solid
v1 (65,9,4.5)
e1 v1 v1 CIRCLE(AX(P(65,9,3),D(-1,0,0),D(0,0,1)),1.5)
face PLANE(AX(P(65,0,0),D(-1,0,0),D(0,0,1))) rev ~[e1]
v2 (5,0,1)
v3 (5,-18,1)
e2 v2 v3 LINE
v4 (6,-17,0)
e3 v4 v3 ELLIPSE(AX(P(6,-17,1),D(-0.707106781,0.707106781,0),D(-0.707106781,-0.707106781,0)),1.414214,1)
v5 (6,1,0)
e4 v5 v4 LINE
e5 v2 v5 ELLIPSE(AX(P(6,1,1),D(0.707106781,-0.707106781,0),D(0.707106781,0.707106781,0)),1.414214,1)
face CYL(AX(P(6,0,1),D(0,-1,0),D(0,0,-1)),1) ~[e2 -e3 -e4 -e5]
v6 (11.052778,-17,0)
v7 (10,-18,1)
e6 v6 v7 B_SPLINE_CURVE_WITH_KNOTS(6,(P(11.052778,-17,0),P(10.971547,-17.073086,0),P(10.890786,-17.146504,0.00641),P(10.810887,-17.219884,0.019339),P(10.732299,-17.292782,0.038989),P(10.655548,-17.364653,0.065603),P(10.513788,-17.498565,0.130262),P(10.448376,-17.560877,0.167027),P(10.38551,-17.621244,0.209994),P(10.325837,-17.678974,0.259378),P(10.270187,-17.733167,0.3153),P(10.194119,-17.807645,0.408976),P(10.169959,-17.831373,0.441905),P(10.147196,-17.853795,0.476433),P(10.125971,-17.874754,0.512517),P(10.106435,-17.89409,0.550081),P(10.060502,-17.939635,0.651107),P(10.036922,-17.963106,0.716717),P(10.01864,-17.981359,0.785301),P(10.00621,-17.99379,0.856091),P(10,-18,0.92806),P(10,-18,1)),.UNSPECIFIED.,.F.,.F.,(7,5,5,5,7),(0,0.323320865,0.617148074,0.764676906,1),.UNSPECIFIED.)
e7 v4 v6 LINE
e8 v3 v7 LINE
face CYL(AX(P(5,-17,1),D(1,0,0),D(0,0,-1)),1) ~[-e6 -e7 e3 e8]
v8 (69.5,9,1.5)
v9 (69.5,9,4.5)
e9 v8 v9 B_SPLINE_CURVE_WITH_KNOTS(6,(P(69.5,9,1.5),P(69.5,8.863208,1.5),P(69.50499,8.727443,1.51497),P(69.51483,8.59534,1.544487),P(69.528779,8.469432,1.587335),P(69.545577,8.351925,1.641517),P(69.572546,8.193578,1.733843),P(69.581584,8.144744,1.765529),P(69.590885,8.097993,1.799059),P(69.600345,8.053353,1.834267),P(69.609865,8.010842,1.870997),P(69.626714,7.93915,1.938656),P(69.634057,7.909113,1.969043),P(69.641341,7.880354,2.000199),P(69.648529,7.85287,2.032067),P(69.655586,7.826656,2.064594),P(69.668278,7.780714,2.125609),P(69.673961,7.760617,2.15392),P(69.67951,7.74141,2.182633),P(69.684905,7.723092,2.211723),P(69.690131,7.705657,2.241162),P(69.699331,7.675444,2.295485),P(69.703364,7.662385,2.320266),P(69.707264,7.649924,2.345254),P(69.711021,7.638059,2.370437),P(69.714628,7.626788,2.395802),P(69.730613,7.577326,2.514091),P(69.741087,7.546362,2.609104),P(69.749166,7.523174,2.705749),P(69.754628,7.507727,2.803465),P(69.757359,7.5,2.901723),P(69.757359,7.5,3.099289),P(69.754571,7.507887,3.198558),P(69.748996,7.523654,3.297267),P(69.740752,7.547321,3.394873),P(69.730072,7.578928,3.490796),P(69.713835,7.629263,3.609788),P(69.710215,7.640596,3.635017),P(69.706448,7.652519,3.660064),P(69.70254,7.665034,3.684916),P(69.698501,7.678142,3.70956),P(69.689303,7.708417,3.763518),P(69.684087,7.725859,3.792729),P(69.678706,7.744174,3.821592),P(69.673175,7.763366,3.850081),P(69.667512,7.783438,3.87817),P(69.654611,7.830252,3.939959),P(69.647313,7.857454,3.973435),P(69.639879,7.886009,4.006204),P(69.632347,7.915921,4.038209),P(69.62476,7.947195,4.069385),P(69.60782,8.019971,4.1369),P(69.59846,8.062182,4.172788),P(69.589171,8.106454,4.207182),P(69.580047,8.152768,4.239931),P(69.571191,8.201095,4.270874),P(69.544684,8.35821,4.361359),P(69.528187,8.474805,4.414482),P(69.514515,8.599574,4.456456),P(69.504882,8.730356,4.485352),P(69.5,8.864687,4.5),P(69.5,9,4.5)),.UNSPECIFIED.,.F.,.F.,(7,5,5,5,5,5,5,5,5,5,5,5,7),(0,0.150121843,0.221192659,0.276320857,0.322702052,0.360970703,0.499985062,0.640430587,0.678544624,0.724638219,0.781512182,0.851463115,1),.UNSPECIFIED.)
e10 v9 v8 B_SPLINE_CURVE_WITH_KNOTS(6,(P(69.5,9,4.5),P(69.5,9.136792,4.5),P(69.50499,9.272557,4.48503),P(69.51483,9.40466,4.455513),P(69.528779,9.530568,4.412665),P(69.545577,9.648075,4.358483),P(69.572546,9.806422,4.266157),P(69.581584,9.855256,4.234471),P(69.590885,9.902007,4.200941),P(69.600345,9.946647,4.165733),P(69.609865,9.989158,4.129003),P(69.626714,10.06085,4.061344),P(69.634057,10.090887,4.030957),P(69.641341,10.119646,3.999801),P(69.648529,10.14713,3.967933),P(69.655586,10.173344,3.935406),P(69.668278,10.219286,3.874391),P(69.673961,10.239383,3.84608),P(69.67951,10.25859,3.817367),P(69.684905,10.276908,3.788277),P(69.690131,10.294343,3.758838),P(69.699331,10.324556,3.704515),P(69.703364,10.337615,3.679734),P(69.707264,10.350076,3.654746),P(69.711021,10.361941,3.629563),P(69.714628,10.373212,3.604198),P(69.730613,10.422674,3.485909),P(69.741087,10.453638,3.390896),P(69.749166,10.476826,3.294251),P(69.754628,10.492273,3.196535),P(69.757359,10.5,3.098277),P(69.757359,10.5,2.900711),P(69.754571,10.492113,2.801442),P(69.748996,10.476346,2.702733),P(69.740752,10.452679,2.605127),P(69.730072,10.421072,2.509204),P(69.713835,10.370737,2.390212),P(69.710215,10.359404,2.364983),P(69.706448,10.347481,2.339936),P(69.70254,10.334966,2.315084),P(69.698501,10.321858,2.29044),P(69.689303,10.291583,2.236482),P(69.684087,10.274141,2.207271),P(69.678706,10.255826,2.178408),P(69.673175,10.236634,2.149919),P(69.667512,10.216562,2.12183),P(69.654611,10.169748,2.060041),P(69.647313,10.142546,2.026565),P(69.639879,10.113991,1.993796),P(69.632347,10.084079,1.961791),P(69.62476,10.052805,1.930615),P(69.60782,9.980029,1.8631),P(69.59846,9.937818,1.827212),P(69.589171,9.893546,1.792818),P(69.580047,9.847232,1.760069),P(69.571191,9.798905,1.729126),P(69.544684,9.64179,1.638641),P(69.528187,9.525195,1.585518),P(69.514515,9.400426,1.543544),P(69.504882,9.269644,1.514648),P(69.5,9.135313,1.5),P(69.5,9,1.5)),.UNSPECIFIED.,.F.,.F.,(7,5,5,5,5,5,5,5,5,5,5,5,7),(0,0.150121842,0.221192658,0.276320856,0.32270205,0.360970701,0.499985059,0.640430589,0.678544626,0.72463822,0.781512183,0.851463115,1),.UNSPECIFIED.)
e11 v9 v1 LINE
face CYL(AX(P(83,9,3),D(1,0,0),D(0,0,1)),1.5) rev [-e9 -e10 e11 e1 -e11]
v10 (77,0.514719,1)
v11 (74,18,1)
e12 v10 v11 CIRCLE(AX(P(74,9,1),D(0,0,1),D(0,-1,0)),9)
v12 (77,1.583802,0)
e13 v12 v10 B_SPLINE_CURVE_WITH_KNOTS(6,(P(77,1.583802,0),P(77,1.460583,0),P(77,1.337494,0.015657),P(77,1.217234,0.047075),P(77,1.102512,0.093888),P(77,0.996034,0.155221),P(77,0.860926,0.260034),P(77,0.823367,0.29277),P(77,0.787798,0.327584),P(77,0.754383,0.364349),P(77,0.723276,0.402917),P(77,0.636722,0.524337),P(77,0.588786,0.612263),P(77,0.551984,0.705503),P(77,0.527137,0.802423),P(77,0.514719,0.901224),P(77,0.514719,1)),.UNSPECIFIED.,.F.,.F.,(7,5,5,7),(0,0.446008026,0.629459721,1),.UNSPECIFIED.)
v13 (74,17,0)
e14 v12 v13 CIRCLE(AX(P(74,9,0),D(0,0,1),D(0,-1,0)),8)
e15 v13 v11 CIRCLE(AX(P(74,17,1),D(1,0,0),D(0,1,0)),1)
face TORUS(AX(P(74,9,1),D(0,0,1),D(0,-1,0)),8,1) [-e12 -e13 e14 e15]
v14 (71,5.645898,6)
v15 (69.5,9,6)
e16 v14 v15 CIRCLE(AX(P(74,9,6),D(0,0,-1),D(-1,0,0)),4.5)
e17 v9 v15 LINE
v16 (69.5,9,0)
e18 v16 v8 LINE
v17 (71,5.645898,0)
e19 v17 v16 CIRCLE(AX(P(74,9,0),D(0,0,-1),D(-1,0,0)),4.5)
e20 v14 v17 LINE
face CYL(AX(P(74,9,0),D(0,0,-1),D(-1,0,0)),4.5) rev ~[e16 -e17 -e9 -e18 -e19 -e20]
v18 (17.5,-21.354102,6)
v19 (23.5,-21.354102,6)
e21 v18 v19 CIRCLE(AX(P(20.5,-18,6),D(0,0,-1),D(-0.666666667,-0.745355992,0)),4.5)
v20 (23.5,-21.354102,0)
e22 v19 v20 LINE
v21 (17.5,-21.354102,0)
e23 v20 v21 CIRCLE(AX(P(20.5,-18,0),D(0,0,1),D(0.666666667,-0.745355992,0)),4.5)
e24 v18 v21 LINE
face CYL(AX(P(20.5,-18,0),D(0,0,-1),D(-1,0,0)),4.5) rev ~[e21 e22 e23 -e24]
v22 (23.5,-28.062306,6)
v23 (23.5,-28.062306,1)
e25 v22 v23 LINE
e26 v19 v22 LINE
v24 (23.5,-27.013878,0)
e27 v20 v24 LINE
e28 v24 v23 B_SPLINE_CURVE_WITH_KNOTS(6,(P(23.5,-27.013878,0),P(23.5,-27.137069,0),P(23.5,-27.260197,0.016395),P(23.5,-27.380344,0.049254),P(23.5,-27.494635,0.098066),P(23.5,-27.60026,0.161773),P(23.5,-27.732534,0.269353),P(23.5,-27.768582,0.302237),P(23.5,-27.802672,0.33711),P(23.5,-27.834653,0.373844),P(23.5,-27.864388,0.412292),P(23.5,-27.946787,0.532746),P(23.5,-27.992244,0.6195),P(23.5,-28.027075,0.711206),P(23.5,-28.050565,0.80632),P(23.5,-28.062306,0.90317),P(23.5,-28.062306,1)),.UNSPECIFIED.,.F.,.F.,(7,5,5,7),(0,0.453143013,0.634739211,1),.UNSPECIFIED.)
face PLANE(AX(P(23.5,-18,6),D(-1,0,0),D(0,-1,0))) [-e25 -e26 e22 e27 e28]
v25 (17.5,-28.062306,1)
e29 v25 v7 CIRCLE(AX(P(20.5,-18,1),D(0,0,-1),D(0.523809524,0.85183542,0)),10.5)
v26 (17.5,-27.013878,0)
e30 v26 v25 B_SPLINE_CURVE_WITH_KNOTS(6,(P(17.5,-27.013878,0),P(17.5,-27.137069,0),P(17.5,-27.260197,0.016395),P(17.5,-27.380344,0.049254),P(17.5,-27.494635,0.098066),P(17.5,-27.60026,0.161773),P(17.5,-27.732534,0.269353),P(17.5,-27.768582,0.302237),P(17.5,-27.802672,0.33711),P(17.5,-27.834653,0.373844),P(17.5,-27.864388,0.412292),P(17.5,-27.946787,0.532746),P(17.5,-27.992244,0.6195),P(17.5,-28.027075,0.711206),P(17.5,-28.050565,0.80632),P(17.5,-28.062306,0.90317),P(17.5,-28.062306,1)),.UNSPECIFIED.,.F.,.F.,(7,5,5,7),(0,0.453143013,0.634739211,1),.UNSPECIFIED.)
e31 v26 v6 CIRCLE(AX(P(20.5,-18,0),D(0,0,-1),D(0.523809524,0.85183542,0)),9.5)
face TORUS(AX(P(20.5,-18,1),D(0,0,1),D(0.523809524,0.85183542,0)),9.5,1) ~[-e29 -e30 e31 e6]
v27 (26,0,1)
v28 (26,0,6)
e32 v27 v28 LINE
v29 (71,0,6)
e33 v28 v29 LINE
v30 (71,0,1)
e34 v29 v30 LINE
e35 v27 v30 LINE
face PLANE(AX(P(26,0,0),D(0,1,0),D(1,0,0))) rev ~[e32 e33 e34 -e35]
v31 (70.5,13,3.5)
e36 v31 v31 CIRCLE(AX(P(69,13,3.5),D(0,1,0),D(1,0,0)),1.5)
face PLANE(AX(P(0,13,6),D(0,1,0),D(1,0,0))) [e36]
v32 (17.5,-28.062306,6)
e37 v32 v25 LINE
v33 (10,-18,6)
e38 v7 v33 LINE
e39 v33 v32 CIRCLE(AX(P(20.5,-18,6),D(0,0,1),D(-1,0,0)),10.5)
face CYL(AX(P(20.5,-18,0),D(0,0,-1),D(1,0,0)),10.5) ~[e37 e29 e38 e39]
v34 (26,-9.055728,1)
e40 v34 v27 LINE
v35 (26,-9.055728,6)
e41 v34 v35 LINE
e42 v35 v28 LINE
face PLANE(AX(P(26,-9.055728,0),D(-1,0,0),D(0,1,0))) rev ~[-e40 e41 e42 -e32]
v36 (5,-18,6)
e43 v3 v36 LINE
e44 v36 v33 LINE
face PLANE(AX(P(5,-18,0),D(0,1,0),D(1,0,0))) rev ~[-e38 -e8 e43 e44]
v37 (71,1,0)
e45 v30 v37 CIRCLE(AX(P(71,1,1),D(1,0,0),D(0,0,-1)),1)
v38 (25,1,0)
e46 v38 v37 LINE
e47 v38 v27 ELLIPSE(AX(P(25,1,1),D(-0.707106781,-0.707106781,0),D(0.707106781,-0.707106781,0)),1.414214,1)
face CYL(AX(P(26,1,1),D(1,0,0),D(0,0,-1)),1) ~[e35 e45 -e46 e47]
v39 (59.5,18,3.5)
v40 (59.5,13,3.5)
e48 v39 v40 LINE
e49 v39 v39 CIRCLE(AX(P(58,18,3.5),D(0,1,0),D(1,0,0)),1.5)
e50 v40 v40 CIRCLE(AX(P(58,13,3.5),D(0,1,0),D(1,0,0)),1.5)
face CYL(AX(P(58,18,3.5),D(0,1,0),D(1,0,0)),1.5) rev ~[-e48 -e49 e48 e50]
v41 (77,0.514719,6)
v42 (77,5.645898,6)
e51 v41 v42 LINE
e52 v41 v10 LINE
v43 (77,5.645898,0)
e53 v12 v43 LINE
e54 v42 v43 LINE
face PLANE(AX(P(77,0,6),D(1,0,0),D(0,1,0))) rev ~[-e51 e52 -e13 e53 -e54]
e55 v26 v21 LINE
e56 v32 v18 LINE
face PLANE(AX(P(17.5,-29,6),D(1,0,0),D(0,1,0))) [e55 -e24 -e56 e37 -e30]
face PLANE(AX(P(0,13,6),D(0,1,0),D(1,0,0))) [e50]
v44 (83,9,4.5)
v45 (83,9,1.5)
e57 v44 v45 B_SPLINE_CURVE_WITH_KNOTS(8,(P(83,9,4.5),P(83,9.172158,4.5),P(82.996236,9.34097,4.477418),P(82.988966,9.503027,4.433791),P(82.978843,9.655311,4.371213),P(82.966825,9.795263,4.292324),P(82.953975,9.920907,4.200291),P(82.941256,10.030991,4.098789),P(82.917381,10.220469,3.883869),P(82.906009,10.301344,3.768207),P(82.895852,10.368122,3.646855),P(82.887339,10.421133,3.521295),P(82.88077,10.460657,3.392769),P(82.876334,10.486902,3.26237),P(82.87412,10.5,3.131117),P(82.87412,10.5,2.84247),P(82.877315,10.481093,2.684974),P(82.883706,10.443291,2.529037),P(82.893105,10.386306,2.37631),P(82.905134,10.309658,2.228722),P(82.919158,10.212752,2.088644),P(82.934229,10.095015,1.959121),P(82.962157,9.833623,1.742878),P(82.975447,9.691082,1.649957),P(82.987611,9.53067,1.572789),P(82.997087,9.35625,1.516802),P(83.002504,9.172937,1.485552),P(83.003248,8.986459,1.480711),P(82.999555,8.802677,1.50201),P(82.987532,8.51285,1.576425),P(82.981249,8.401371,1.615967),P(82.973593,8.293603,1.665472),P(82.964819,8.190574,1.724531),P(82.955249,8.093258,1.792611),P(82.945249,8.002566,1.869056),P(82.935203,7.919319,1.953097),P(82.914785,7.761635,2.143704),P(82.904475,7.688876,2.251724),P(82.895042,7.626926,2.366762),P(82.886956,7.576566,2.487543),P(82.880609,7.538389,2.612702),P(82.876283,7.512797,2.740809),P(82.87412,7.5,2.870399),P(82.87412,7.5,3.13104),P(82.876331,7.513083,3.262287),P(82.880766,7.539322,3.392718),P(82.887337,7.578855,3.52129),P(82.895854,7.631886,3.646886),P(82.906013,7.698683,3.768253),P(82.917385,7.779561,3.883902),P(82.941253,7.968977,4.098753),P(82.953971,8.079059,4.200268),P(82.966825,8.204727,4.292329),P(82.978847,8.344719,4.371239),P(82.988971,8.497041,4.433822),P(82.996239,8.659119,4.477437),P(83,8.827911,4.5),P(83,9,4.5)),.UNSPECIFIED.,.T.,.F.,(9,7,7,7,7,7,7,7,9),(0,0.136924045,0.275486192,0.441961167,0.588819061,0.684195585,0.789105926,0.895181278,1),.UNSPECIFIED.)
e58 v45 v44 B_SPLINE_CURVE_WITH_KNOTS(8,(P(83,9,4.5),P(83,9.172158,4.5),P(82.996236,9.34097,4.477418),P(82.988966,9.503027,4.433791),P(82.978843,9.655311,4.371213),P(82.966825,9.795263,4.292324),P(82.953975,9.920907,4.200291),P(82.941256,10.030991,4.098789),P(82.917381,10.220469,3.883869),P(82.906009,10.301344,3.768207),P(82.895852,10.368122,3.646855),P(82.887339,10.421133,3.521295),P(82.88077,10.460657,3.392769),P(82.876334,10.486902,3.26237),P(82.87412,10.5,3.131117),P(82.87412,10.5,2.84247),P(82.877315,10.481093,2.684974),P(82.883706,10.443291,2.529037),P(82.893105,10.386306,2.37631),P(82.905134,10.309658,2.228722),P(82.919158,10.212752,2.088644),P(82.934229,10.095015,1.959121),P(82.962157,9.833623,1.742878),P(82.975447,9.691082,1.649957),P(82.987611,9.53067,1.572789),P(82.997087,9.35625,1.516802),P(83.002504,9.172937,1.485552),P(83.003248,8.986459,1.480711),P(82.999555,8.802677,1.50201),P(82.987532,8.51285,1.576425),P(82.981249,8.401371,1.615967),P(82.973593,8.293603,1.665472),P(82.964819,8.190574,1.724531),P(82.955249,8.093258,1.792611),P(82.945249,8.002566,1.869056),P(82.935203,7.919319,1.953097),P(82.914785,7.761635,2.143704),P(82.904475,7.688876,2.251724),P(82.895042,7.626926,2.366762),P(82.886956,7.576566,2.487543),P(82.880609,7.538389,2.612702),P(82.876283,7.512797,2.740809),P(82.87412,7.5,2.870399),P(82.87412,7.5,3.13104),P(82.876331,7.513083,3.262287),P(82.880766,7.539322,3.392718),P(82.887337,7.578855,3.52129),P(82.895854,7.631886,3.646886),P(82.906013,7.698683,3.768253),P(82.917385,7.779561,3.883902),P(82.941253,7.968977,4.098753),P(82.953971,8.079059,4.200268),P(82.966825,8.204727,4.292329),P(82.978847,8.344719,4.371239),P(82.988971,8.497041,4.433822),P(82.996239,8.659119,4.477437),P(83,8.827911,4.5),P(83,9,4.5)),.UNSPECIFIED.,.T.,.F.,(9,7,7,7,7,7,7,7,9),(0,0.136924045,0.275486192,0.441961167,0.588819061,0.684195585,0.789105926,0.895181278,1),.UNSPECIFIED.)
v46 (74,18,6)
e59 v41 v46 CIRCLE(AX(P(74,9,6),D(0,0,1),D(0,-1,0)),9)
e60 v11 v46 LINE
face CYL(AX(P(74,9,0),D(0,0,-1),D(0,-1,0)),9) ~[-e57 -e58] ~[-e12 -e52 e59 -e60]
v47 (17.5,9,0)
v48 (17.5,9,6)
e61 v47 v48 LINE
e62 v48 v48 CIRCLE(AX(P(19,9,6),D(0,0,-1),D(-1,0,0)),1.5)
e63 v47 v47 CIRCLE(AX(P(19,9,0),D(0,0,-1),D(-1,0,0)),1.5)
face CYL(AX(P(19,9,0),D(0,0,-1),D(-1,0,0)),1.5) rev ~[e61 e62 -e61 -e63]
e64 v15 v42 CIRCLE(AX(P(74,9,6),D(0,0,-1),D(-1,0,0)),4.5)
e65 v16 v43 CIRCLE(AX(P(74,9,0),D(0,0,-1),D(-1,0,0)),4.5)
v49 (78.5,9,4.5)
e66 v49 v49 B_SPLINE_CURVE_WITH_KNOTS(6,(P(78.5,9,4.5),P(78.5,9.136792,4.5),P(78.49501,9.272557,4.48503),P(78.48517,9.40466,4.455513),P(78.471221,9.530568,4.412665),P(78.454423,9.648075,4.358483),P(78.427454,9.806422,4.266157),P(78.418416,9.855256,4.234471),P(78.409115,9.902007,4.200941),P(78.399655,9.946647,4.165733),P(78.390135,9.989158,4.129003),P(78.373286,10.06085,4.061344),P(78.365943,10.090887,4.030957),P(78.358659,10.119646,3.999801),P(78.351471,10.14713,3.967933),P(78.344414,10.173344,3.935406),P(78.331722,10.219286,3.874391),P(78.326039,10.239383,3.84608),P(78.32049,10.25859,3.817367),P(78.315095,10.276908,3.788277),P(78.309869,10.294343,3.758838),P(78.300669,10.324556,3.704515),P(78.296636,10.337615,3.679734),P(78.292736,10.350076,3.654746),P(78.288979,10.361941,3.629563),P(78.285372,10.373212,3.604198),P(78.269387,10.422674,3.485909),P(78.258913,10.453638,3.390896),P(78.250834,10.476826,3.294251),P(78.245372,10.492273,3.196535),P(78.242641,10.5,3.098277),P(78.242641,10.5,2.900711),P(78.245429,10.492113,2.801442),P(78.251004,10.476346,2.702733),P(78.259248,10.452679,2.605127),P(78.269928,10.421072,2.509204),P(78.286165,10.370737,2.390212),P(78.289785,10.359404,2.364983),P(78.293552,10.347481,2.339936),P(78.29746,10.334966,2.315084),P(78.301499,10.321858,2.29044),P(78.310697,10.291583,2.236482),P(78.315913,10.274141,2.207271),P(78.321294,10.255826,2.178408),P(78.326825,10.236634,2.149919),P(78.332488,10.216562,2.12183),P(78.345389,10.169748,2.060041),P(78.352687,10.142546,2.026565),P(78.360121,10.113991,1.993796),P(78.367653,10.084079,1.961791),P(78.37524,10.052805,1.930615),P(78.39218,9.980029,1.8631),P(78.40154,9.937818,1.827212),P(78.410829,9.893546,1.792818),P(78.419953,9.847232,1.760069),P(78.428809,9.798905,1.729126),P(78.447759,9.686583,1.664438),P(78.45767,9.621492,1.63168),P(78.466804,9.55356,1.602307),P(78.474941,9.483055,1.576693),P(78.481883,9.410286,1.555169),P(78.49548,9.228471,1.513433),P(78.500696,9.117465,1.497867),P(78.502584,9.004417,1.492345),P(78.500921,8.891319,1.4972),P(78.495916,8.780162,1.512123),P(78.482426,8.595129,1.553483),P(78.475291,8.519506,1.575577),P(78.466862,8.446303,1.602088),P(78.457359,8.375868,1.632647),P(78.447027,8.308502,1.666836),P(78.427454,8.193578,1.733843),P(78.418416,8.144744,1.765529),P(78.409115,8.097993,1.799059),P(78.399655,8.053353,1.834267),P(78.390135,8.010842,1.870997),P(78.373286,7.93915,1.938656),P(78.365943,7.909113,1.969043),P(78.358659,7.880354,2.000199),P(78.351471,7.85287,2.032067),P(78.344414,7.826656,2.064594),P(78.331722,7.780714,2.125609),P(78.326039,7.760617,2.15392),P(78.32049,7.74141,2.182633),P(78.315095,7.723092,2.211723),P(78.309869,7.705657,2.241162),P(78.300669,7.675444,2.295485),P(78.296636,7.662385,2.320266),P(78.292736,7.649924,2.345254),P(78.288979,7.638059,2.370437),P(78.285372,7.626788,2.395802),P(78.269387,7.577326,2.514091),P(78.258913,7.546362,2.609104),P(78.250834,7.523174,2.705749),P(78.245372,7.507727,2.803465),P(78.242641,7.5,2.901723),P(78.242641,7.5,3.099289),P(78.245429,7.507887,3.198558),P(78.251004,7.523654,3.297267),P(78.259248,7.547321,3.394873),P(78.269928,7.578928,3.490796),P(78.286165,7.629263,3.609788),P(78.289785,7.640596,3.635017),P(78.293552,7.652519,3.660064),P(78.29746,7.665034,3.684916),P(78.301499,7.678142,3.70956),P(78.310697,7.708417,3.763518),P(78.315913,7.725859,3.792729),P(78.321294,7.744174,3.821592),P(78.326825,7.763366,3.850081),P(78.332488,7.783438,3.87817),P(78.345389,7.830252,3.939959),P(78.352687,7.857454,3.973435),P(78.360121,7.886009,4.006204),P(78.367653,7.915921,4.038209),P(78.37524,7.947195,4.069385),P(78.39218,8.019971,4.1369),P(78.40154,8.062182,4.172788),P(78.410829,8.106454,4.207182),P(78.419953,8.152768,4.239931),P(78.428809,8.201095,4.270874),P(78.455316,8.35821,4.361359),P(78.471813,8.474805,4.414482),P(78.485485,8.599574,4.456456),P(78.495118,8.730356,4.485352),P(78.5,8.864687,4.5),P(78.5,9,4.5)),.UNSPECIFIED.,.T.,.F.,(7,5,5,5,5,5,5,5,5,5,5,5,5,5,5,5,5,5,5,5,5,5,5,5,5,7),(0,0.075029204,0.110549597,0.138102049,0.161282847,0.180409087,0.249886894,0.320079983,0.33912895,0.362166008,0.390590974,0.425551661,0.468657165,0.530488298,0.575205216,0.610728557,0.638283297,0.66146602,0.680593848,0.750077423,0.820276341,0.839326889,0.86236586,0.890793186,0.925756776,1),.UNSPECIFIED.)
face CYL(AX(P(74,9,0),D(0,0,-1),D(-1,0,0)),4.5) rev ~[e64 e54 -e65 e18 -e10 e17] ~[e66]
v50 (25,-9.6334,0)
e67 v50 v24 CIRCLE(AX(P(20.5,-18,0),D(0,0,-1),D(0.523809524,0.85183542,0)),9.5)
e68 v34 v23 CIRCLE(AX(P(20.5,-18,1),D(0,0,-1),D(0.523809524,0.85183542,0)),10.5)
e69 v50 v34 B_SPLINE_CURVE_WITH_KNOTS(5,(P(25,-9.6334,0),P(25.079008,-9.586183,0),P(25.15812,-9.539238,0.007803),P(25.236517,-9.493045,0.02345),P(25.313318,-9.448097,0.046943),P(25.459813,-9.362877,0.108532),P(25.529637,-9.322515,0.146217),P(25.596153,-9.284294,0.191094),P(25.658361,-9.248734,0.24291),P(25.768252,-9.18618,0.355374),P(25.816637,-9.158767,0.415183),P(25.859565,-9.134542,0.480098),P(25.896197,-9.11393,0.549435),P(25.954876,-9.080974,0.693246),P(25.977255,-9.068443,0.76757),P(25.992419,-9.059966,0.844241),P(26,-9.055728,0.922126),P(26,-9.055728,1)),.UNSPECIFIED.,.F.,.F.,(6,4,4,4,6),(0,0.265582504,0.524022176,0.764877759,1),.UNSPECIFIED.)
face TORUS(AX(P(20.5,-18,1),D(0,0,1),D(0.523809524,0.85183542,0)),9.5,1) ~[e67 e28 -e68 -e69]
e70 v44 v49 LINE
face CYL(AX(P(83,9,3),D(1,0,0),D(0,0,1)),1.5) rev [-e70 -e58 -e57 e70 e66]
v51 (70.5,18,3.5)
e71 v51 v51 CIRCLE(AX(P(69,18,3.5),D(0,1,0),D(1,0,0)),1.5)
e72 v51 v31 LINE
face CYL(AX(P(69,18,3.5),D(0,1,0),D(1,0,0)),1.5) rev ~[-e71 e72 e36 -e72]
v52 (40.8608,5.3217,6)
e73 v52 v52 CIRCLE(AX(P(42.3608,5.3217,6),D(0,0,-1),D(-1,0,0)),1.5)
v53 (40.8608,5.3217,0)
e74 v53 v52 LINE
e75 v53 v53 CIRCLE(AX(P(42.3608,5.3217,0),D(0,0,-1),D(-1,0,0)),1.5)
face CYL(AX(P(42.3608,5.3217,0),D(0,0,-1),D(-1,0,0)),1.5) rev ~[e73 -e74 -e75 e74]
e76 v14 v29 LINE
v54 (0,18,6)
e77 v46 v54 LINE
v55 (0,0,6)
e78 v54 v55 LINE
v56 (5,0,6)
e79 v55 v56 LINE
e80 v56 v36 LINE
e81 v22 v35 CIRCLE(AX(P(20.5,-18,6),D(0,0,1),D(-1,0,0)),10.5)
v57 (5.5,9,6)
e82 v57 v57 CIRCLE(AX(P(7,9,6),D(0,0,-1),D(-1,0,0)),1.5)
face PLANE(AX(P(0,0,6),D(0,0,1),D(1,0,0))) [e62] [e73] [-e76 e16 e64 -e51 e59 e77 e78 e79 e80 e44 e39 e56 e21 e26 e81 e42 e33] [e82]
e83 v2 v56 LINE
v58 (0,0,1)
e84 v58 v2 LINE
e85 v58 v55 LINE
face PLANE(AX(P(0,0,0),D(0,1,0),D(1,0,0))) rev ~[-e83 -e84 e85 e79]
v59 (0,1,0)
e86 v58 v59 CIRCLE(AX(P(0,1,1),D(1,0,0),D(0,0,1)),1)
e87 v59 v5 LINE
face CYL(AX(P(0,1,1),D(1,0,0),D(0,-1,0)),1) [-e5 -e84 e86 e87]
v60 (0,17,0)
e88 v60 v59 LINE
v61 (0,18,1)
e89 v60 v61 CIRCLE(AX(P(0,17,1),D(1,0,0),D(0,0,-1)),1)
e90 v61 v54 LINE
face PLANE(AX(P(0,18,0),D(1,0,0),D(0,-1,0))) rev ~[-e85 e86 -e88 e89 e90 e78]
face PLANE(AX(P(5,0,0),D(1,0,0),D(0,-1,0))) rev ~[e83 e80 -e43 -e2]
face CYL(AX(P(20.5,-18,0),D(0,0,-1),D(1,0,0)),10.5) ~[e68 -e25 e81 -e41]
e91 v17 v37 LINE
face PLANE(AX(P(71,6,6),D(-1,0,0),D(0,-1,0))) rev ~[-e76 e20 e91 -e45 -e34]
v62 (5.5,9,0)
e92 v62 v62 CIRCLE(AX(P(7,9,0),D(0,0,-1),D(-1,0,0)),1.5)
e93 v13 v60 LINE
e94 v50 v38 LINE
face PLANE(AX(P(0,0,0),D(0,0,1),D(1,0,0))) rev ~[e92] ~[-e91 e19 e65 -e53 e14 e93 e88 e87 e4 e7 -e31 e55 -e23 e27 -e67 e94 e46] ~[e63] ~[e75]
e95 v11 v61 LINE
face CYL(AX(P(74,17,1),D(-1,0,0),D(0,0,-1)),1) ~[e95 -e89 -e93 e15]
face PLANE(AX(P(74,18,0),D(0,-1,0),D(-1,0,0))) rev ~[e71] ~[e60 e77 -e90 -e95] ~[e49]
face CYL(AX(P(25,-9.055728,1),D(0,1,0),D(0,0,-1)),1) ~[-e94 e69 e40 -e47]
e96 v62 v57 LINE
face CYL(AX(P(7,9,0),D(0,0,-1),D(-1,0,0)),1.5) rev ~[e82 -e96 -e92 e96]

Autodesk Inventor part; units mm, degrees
ref_plane "YZ Plane" through (0, 0, 0) normal (1, 0, 0) x (0, 1, 0)
ref_plane "XZ Plane" through (0, 0, 0) normal (0, 1, 0) x (-1, 0, 0)
sketch "Sketch1" plane through (0, 0, 0) normal (0, 0, 1) x (1, 0, 0)
  line L0 (0, 0) -> (5, 0)
  line L1 (5, 0) -> (5, -18)
  line L2 (5, -18) -> (26, -18)
  line L3 (26, -18) -> (26, 0)
  line L4 (26, 0) -> (74, 0)
  arc A0 (74, 0) -> (74, 18) centre (74, 9) ccw
  line L5 (74, 18) -> (0, 18)
  line L6 (0, 18) -> (0, 0)
  circle A1 centre (20.5, -18) radius 10.5
  dimension "d0" = 5
  dimension "d1" = 18
  dimension "d2" = 21
  dimension "d3" = 18
  dimension "d4" = 48
  dimension "d5" = 18
  dimension "d6" = 9
  dimension "d7" = 74
  dimension "d8" = 21
extrude "Extrusion1" add sketch "Sketch1" along normal blind 6
sketch "Sketch2" plane through (0, 0, 0) normal (0, 0, -1) x (-1, 0, 0)
  circle A0 centre (-74, 9) radius 4.5
  arc A1 (-26, -9.0557) -> (-10, -18) centre (-20.5, -18) ccw projected
  circle A2 centre (-20.5, -18) radius 4.5
  point P0 (0, 0)
  dimension "d11" = 9
  dimension "d12" = 9
extrude "Extrusion2" cut sketch "Sketch2" against normal through all
sketch "Sketch3" plane through (0, 0, 0) normal (0, 0, -1) x (-1, 0, 0)
  circle A0 centre (-7, 9) radius 1.5
  circle A1 centre (-19, 9) radius 1.5
  point P0 (0, 0)
  dimension "d16" = 3
  dimension "d17" = 3
extrude "Extrusion3" cut sketch "Sketch3" against normal through all
ref_plane "Work Plane1" through (83, 0, 0) normal (-1, 0, 0) x (0, 0, 1)
sketch "Sketch4" plane through (83, 0, 0) normal (-1, 0, 0) x (0, 0, 1)
  circle A0 centre (3, 9) radius 1.5
  point P0 (0, 0)
  dimension "d22" = 3
extrude "Extrusion4" cut sketch "Sketch4" along normal blind 18
fillet "Fillet3" radius 1 8 edges at (83, 9, 0) (50, 0, 0) (37, 18, 0) (2.5, 0, 0) (5, -9, 0) (25.6235, -27.1652, 0) (7.5, -18, 0) (26, -4.5279, 0)
sketch "Sketch5" plane through (0, 18, 6) normal (0, 1, 0) x (1, 0, 0)
  circle A0 centre (69, 2.5) radius 1.5
  circle A1 centre (58, 2.5) radius 1.5
  point P0 (0, 6)
  dimension "d26" = 3
  dimension "d27" = 3
extrude "Extrusion5" cut sketch "Sketch5" against normal blind 5
sketch "Sketch6" plane through (0, 0, 6) normal (0, 0, 1) x (1, 0, 0)
  line L0 (71, 0) -> (77, 0)
  line L1 (77, 0) -> (77, 6)
  line L2 (77, 6) -> (71, 6)
  line L3 (71, 6) -> (71, 0)
  line L4 (17.5, -18) -> (23.5, -18)
  line L5 (23.5, -18) -> (23.5, -29)
  line L6 (23.5, -29) -> (17.5, -29)
  line L7 (17.5, -29) -> (17.5, -18)
  point P0 (0, 0)
  dimension "d30" = 6
  dimension "d31" = 6
  dimension "d32" = 6
  dimension "d33" = 11
extrude "Extrusion6" cut sketch "Sketch6" against normal through all
sketch "Sketch7" plane through (0, 0, 0) normal (0, 0, -1) x (-1, 0, 0)
  arc A0 (-38.7148, 11.0023) -> (-38.2652, 13.3358) centre (-45.6076, 13.5402) ccw projected
  arc A1 (-38.1755, 10.6175) -> (-38.7148, 11.0023) centre (-42.3608, 5.3217) ccw projected
  arc A2 (-36.1152, 11.8018) -> (-38.1755, 10.6175) centre (-33.5331, 4.9255) ccw projected
  arc A3 (-35.5101, 11.1585) -> (-36.1152, 11.8018) centre (-42.3608, 5.3217) ccw projected
  arc A4 (-36.8185, 9.1746) -> (-35.5101, 11.1585) centre (-42.2153, 14.1571) ccw projected
  arc A5 (-36.4675, 8.6128) -> (-36.8185, 9.1746) centre (-42.3608, 5.3217) ccw projected
  arc A6 (-34.1108, 8.9185) -> (-36.4675, 8.6128) centre (-34.3567, 1.5774) ccw projected
  arc A7 (-33.798, 8.0925) -> (-34.1108, 8.9185) centre (-42.3608, 5.3217) ccw projected
  arc A8 (-35.7659, 6.7603) -> (-33.798, 8.0925) centre (-38.8453, 13.4288) ccw projected
  arc A9 (-35.6566, 6.107) -> (-35.7659, 6.7603) centre (-42.3608, 5.3217) ccw projected
  arc A10 (-33.3623, 5.4875) -> (-35.6566, 6.107) centre (-36.3988, -1.2006) ccw projected
  arc A11 (-33.3894, 4.6047) -> (-33.3623, 5.4875) centre (-42.3608, 5.3217) ccw projected
  arc A12 (-35.7174, 4.1271) -> (-33.3894, 4.6047) centre (-36.0104, 11.4664) ccw projected
  arc A13 (-35.8664, 3.4816) -> (-35.7174, 4.1271) centre (-42.3608, 5.3217) ccw projected
  arc A14 (-33.9838, 2.0314) -> (-35.8664, 3.4816) centre (-39.3486, -2.9857) ccw projected
  arc A15 (-34.3467, 1.2261) -> (-33.9838, 2.0314) centre (-42.3608, 5.3217) ccw projected
  arc A16 (-36.6802, 1.6757) -> (-34.3467, 1.2261) centre (-34.1423, 8.5684) ccw projected
  arc A17 (-37.0649, 1.1364) -> (-36.6802, 1.6757) centre (-42.3608, 5.3217) ccw projected
  arc A18 (-35.8806, -0.9239) -> (-37.0649, 1.1364) centre (-42.757, -3.506) ccw projected
  arc A19 (-36.524, -1.529) -> (-35.8806, -0.9239) centre (-42.3608, 5.3217) ccw projected
  arc A20 (-38.5079, -0.2207) -> (-36.524, -1.529) centre (-33.5254, 5.1762) ccw projected
  arc A21 (-39.0697, -0.5716) -> (-38.5079, -0.2207) centre (-42.3608, 5.3217) ccw projected
  arc A22 (-38.764, -2.9284) -> (-39.0697, -0.5716) centre (-46.105, -2.6824) ccw projected
  arc A23 (-39.59, -3.2412) -> (-38.764, -2.9284) centre (-42.3608, 5.3217) ccw projected
  arc A24 (-40.9222, -1.2732) -> (-39.59, -3.2412) centre (-34.2536, 1.8061) ccw projected
  arc A25 (-41.5755, -1.3825) -> (-40.9222, -1.2732) centre (-42.3608, 5.3217) ccw projected
  arc A26 (-42.1949, -3.6768) -> (-41.5755, -1.3825) centre (-48.8831, -0.6403) ccw projected
  arc A27 (-43.0777, -3.6497) -> (-42.1949, -3.6768) centre (-42.3608, 5.3217) ccw projected
  arc A28 (-43.5554, -1.3218) -> (-43.0777, -3.6497) centre (-36.2161, -1.0287) ccw projected
  arc A29 (-44.2008, -1.1727) -> (-43.5554, -1.3218) centre (-42.3608, 5.3217) ccw projected
  arc A30 (-45.6511, -3.0553) -> (-44.2008, -1.1727) centre (-50.6681, 2.3095) ccw projected
  arc A31 (-46.4564, -2.6925) -> (-45.6511, -3.0553) centre (-42.3608, 5.3217) ccw projected
  arc A32 (-46.0068, -0.3589) -> (-46.4564, -2.6925) centre (-39.114, -2.8968) ccw projected
  arc A33 (-46.5461, 0.0258) -> (-46.0068, -0.3589) centre (-42.3608, 5.3217) ccw projected
  arc A34 (-48.6064, -1.1585) -> (-46.5461, 0.0258) centre (-51.1885, 5.7179) ccw projected
  arc A35 (-49.2115, -0.5151) -> (-48.6064, -1.1585) centre (-42.3608, 5.3217) ccw projected
  arc A36 (-47.9032, 1.4688) -> (-49.2115, -0.5151) centre (-42.5063, -3.5137) ccw projected
  arc A37 (-48.2541, 2.0306) -> (-47.9032, 1.4688) centre (-42.3608, 5.3217) ccw projected
  arc A38 (-50.6108, 1.7249) -> (-48.2541, 2.0306) centre (-50.3649, 9.0659) ccw projected
  arc A39 (-50.9237, 2.5508) -> (-50.6108, 1.7249) centre (-42.3608, 5.3217) ccw projected
  arc A40 (-48.9557, 3.883) -> (-50.9237, 2.5508) centre (-45.8763, -2.7855) ccw projected
  arc A41 (-49.065, 4.5364) -> (-48.9557, 3.883) centre (-42.3608, 5.3217) ccw projected
  arc A42 (-51.3593, 5.1558) -> (-49.065, 4.5364) centre (-48.3228, 11.8439) ccw projected
  arc A43 (-51.3322, 6.0386) -> (-51.3593, 5.1558) centre (-42.3608, 5.3217) ccw projected
  arc A44 (-49.0043, 6.5163) -> (-51.3322, 6.0386) centre (-48.7112, -0.823) ccw projected
  arc A45 (-48.8552, 7.1617) -> (-49.0043, 6.5163) centre (-42.3608, 5.3217) ccw projected
  arc A46 (-50.7378, 8.612) -> (-48.8552, 7.1617) centre (-45.373, 13.629) ccw projected
  arc A47 (-50.3749, 9.4172) -> (-50.7378, 8.612) centre (-42.3608, 5.3217) ccw projected
  arc A48 (-48.0414, 8.9677) -> (-50.3749, 9.4172) centre (-50.5793, 2.0749) ccw projected
  arc A49 (-47.6567, 9.5069) -> (-48.0414, 8.9677) centre (-42.3608, 5.3217) ccw projected
  arc A50 (-48.841, 11.5673) -> (-47.6567, 9.5069) centre (-41.9646, 14.1494) ccw projected
  arc A51 (-48.1976, 12.1724) -> (-48.841, 11.5673) centre (-42.3608, 5.3217) ccw projected
  arc A52 (-46.2137, 10.864) -> (-48.1976, 12.1724) centre (-51.1962, 5.4671) ccw projected
  arc A53 (-45.6519, 11.215) -> (-46.2137, 10.864) centre (-42.3608, 5.3217) ccw projected
  arc A54 (-45.9576, 13.5717) -> (-45.6519, 11.215) centre (-38.6166, 13.3258) ccw projected
  arc A55 (-45.1317, 13.8845) -> (-45.9576, 13.5717) centre (-42.3608, 5.3217) ccw projected
  arc A56 (-43.7995, 11.9166) -> (-45.1317, 13.8845) centre (-50.468, 8.8372) ccw projected
  arc A57 (-43.1461, 12.0258) -> (-43.7995, 11.9166) centre (-42.3608, 5.3217) ccw projected
  arc A58 (-42.5267, 14.3201) -> (-43.1461, 12.0258) centre (-35.8385, 11.2837) ccw projected
  arc A59 (-41.6439, 14.2931) -> (-42.5267, 14.3201) centre (-42.3608, 5.3217) ccw projected
  arc A60 (-41.1662, 11.9651) -> (-41.6439, 14.2931) centre (-48.5055, 11.6721) ccw projected
  arc A61 (-40.5208, 11.816) -> (-41.1662, 11.9651) centre (-42.3608, 5.3217) ccw projected
  arc A62 (-39.0705, 13.6987) -> (-40.5208, 11.816) centre (-34.0535, 8.3339) ccw projected
  arc A63 (-38.2652, 13.3358) -> (-39.0705, 13.6987) centre (-42.3608, 5.3217) ccw projected
  circle A64 centre (-42.3608, 5.3217) radius 1.5
  point P0 (0, 0)
  dimension "d36" = 3
extrude "Extrusion7" cut sketch "Sketch7" against normal through all contours A64
properties part number "Hand - Digit 0-1" material "ABS Plastic"
